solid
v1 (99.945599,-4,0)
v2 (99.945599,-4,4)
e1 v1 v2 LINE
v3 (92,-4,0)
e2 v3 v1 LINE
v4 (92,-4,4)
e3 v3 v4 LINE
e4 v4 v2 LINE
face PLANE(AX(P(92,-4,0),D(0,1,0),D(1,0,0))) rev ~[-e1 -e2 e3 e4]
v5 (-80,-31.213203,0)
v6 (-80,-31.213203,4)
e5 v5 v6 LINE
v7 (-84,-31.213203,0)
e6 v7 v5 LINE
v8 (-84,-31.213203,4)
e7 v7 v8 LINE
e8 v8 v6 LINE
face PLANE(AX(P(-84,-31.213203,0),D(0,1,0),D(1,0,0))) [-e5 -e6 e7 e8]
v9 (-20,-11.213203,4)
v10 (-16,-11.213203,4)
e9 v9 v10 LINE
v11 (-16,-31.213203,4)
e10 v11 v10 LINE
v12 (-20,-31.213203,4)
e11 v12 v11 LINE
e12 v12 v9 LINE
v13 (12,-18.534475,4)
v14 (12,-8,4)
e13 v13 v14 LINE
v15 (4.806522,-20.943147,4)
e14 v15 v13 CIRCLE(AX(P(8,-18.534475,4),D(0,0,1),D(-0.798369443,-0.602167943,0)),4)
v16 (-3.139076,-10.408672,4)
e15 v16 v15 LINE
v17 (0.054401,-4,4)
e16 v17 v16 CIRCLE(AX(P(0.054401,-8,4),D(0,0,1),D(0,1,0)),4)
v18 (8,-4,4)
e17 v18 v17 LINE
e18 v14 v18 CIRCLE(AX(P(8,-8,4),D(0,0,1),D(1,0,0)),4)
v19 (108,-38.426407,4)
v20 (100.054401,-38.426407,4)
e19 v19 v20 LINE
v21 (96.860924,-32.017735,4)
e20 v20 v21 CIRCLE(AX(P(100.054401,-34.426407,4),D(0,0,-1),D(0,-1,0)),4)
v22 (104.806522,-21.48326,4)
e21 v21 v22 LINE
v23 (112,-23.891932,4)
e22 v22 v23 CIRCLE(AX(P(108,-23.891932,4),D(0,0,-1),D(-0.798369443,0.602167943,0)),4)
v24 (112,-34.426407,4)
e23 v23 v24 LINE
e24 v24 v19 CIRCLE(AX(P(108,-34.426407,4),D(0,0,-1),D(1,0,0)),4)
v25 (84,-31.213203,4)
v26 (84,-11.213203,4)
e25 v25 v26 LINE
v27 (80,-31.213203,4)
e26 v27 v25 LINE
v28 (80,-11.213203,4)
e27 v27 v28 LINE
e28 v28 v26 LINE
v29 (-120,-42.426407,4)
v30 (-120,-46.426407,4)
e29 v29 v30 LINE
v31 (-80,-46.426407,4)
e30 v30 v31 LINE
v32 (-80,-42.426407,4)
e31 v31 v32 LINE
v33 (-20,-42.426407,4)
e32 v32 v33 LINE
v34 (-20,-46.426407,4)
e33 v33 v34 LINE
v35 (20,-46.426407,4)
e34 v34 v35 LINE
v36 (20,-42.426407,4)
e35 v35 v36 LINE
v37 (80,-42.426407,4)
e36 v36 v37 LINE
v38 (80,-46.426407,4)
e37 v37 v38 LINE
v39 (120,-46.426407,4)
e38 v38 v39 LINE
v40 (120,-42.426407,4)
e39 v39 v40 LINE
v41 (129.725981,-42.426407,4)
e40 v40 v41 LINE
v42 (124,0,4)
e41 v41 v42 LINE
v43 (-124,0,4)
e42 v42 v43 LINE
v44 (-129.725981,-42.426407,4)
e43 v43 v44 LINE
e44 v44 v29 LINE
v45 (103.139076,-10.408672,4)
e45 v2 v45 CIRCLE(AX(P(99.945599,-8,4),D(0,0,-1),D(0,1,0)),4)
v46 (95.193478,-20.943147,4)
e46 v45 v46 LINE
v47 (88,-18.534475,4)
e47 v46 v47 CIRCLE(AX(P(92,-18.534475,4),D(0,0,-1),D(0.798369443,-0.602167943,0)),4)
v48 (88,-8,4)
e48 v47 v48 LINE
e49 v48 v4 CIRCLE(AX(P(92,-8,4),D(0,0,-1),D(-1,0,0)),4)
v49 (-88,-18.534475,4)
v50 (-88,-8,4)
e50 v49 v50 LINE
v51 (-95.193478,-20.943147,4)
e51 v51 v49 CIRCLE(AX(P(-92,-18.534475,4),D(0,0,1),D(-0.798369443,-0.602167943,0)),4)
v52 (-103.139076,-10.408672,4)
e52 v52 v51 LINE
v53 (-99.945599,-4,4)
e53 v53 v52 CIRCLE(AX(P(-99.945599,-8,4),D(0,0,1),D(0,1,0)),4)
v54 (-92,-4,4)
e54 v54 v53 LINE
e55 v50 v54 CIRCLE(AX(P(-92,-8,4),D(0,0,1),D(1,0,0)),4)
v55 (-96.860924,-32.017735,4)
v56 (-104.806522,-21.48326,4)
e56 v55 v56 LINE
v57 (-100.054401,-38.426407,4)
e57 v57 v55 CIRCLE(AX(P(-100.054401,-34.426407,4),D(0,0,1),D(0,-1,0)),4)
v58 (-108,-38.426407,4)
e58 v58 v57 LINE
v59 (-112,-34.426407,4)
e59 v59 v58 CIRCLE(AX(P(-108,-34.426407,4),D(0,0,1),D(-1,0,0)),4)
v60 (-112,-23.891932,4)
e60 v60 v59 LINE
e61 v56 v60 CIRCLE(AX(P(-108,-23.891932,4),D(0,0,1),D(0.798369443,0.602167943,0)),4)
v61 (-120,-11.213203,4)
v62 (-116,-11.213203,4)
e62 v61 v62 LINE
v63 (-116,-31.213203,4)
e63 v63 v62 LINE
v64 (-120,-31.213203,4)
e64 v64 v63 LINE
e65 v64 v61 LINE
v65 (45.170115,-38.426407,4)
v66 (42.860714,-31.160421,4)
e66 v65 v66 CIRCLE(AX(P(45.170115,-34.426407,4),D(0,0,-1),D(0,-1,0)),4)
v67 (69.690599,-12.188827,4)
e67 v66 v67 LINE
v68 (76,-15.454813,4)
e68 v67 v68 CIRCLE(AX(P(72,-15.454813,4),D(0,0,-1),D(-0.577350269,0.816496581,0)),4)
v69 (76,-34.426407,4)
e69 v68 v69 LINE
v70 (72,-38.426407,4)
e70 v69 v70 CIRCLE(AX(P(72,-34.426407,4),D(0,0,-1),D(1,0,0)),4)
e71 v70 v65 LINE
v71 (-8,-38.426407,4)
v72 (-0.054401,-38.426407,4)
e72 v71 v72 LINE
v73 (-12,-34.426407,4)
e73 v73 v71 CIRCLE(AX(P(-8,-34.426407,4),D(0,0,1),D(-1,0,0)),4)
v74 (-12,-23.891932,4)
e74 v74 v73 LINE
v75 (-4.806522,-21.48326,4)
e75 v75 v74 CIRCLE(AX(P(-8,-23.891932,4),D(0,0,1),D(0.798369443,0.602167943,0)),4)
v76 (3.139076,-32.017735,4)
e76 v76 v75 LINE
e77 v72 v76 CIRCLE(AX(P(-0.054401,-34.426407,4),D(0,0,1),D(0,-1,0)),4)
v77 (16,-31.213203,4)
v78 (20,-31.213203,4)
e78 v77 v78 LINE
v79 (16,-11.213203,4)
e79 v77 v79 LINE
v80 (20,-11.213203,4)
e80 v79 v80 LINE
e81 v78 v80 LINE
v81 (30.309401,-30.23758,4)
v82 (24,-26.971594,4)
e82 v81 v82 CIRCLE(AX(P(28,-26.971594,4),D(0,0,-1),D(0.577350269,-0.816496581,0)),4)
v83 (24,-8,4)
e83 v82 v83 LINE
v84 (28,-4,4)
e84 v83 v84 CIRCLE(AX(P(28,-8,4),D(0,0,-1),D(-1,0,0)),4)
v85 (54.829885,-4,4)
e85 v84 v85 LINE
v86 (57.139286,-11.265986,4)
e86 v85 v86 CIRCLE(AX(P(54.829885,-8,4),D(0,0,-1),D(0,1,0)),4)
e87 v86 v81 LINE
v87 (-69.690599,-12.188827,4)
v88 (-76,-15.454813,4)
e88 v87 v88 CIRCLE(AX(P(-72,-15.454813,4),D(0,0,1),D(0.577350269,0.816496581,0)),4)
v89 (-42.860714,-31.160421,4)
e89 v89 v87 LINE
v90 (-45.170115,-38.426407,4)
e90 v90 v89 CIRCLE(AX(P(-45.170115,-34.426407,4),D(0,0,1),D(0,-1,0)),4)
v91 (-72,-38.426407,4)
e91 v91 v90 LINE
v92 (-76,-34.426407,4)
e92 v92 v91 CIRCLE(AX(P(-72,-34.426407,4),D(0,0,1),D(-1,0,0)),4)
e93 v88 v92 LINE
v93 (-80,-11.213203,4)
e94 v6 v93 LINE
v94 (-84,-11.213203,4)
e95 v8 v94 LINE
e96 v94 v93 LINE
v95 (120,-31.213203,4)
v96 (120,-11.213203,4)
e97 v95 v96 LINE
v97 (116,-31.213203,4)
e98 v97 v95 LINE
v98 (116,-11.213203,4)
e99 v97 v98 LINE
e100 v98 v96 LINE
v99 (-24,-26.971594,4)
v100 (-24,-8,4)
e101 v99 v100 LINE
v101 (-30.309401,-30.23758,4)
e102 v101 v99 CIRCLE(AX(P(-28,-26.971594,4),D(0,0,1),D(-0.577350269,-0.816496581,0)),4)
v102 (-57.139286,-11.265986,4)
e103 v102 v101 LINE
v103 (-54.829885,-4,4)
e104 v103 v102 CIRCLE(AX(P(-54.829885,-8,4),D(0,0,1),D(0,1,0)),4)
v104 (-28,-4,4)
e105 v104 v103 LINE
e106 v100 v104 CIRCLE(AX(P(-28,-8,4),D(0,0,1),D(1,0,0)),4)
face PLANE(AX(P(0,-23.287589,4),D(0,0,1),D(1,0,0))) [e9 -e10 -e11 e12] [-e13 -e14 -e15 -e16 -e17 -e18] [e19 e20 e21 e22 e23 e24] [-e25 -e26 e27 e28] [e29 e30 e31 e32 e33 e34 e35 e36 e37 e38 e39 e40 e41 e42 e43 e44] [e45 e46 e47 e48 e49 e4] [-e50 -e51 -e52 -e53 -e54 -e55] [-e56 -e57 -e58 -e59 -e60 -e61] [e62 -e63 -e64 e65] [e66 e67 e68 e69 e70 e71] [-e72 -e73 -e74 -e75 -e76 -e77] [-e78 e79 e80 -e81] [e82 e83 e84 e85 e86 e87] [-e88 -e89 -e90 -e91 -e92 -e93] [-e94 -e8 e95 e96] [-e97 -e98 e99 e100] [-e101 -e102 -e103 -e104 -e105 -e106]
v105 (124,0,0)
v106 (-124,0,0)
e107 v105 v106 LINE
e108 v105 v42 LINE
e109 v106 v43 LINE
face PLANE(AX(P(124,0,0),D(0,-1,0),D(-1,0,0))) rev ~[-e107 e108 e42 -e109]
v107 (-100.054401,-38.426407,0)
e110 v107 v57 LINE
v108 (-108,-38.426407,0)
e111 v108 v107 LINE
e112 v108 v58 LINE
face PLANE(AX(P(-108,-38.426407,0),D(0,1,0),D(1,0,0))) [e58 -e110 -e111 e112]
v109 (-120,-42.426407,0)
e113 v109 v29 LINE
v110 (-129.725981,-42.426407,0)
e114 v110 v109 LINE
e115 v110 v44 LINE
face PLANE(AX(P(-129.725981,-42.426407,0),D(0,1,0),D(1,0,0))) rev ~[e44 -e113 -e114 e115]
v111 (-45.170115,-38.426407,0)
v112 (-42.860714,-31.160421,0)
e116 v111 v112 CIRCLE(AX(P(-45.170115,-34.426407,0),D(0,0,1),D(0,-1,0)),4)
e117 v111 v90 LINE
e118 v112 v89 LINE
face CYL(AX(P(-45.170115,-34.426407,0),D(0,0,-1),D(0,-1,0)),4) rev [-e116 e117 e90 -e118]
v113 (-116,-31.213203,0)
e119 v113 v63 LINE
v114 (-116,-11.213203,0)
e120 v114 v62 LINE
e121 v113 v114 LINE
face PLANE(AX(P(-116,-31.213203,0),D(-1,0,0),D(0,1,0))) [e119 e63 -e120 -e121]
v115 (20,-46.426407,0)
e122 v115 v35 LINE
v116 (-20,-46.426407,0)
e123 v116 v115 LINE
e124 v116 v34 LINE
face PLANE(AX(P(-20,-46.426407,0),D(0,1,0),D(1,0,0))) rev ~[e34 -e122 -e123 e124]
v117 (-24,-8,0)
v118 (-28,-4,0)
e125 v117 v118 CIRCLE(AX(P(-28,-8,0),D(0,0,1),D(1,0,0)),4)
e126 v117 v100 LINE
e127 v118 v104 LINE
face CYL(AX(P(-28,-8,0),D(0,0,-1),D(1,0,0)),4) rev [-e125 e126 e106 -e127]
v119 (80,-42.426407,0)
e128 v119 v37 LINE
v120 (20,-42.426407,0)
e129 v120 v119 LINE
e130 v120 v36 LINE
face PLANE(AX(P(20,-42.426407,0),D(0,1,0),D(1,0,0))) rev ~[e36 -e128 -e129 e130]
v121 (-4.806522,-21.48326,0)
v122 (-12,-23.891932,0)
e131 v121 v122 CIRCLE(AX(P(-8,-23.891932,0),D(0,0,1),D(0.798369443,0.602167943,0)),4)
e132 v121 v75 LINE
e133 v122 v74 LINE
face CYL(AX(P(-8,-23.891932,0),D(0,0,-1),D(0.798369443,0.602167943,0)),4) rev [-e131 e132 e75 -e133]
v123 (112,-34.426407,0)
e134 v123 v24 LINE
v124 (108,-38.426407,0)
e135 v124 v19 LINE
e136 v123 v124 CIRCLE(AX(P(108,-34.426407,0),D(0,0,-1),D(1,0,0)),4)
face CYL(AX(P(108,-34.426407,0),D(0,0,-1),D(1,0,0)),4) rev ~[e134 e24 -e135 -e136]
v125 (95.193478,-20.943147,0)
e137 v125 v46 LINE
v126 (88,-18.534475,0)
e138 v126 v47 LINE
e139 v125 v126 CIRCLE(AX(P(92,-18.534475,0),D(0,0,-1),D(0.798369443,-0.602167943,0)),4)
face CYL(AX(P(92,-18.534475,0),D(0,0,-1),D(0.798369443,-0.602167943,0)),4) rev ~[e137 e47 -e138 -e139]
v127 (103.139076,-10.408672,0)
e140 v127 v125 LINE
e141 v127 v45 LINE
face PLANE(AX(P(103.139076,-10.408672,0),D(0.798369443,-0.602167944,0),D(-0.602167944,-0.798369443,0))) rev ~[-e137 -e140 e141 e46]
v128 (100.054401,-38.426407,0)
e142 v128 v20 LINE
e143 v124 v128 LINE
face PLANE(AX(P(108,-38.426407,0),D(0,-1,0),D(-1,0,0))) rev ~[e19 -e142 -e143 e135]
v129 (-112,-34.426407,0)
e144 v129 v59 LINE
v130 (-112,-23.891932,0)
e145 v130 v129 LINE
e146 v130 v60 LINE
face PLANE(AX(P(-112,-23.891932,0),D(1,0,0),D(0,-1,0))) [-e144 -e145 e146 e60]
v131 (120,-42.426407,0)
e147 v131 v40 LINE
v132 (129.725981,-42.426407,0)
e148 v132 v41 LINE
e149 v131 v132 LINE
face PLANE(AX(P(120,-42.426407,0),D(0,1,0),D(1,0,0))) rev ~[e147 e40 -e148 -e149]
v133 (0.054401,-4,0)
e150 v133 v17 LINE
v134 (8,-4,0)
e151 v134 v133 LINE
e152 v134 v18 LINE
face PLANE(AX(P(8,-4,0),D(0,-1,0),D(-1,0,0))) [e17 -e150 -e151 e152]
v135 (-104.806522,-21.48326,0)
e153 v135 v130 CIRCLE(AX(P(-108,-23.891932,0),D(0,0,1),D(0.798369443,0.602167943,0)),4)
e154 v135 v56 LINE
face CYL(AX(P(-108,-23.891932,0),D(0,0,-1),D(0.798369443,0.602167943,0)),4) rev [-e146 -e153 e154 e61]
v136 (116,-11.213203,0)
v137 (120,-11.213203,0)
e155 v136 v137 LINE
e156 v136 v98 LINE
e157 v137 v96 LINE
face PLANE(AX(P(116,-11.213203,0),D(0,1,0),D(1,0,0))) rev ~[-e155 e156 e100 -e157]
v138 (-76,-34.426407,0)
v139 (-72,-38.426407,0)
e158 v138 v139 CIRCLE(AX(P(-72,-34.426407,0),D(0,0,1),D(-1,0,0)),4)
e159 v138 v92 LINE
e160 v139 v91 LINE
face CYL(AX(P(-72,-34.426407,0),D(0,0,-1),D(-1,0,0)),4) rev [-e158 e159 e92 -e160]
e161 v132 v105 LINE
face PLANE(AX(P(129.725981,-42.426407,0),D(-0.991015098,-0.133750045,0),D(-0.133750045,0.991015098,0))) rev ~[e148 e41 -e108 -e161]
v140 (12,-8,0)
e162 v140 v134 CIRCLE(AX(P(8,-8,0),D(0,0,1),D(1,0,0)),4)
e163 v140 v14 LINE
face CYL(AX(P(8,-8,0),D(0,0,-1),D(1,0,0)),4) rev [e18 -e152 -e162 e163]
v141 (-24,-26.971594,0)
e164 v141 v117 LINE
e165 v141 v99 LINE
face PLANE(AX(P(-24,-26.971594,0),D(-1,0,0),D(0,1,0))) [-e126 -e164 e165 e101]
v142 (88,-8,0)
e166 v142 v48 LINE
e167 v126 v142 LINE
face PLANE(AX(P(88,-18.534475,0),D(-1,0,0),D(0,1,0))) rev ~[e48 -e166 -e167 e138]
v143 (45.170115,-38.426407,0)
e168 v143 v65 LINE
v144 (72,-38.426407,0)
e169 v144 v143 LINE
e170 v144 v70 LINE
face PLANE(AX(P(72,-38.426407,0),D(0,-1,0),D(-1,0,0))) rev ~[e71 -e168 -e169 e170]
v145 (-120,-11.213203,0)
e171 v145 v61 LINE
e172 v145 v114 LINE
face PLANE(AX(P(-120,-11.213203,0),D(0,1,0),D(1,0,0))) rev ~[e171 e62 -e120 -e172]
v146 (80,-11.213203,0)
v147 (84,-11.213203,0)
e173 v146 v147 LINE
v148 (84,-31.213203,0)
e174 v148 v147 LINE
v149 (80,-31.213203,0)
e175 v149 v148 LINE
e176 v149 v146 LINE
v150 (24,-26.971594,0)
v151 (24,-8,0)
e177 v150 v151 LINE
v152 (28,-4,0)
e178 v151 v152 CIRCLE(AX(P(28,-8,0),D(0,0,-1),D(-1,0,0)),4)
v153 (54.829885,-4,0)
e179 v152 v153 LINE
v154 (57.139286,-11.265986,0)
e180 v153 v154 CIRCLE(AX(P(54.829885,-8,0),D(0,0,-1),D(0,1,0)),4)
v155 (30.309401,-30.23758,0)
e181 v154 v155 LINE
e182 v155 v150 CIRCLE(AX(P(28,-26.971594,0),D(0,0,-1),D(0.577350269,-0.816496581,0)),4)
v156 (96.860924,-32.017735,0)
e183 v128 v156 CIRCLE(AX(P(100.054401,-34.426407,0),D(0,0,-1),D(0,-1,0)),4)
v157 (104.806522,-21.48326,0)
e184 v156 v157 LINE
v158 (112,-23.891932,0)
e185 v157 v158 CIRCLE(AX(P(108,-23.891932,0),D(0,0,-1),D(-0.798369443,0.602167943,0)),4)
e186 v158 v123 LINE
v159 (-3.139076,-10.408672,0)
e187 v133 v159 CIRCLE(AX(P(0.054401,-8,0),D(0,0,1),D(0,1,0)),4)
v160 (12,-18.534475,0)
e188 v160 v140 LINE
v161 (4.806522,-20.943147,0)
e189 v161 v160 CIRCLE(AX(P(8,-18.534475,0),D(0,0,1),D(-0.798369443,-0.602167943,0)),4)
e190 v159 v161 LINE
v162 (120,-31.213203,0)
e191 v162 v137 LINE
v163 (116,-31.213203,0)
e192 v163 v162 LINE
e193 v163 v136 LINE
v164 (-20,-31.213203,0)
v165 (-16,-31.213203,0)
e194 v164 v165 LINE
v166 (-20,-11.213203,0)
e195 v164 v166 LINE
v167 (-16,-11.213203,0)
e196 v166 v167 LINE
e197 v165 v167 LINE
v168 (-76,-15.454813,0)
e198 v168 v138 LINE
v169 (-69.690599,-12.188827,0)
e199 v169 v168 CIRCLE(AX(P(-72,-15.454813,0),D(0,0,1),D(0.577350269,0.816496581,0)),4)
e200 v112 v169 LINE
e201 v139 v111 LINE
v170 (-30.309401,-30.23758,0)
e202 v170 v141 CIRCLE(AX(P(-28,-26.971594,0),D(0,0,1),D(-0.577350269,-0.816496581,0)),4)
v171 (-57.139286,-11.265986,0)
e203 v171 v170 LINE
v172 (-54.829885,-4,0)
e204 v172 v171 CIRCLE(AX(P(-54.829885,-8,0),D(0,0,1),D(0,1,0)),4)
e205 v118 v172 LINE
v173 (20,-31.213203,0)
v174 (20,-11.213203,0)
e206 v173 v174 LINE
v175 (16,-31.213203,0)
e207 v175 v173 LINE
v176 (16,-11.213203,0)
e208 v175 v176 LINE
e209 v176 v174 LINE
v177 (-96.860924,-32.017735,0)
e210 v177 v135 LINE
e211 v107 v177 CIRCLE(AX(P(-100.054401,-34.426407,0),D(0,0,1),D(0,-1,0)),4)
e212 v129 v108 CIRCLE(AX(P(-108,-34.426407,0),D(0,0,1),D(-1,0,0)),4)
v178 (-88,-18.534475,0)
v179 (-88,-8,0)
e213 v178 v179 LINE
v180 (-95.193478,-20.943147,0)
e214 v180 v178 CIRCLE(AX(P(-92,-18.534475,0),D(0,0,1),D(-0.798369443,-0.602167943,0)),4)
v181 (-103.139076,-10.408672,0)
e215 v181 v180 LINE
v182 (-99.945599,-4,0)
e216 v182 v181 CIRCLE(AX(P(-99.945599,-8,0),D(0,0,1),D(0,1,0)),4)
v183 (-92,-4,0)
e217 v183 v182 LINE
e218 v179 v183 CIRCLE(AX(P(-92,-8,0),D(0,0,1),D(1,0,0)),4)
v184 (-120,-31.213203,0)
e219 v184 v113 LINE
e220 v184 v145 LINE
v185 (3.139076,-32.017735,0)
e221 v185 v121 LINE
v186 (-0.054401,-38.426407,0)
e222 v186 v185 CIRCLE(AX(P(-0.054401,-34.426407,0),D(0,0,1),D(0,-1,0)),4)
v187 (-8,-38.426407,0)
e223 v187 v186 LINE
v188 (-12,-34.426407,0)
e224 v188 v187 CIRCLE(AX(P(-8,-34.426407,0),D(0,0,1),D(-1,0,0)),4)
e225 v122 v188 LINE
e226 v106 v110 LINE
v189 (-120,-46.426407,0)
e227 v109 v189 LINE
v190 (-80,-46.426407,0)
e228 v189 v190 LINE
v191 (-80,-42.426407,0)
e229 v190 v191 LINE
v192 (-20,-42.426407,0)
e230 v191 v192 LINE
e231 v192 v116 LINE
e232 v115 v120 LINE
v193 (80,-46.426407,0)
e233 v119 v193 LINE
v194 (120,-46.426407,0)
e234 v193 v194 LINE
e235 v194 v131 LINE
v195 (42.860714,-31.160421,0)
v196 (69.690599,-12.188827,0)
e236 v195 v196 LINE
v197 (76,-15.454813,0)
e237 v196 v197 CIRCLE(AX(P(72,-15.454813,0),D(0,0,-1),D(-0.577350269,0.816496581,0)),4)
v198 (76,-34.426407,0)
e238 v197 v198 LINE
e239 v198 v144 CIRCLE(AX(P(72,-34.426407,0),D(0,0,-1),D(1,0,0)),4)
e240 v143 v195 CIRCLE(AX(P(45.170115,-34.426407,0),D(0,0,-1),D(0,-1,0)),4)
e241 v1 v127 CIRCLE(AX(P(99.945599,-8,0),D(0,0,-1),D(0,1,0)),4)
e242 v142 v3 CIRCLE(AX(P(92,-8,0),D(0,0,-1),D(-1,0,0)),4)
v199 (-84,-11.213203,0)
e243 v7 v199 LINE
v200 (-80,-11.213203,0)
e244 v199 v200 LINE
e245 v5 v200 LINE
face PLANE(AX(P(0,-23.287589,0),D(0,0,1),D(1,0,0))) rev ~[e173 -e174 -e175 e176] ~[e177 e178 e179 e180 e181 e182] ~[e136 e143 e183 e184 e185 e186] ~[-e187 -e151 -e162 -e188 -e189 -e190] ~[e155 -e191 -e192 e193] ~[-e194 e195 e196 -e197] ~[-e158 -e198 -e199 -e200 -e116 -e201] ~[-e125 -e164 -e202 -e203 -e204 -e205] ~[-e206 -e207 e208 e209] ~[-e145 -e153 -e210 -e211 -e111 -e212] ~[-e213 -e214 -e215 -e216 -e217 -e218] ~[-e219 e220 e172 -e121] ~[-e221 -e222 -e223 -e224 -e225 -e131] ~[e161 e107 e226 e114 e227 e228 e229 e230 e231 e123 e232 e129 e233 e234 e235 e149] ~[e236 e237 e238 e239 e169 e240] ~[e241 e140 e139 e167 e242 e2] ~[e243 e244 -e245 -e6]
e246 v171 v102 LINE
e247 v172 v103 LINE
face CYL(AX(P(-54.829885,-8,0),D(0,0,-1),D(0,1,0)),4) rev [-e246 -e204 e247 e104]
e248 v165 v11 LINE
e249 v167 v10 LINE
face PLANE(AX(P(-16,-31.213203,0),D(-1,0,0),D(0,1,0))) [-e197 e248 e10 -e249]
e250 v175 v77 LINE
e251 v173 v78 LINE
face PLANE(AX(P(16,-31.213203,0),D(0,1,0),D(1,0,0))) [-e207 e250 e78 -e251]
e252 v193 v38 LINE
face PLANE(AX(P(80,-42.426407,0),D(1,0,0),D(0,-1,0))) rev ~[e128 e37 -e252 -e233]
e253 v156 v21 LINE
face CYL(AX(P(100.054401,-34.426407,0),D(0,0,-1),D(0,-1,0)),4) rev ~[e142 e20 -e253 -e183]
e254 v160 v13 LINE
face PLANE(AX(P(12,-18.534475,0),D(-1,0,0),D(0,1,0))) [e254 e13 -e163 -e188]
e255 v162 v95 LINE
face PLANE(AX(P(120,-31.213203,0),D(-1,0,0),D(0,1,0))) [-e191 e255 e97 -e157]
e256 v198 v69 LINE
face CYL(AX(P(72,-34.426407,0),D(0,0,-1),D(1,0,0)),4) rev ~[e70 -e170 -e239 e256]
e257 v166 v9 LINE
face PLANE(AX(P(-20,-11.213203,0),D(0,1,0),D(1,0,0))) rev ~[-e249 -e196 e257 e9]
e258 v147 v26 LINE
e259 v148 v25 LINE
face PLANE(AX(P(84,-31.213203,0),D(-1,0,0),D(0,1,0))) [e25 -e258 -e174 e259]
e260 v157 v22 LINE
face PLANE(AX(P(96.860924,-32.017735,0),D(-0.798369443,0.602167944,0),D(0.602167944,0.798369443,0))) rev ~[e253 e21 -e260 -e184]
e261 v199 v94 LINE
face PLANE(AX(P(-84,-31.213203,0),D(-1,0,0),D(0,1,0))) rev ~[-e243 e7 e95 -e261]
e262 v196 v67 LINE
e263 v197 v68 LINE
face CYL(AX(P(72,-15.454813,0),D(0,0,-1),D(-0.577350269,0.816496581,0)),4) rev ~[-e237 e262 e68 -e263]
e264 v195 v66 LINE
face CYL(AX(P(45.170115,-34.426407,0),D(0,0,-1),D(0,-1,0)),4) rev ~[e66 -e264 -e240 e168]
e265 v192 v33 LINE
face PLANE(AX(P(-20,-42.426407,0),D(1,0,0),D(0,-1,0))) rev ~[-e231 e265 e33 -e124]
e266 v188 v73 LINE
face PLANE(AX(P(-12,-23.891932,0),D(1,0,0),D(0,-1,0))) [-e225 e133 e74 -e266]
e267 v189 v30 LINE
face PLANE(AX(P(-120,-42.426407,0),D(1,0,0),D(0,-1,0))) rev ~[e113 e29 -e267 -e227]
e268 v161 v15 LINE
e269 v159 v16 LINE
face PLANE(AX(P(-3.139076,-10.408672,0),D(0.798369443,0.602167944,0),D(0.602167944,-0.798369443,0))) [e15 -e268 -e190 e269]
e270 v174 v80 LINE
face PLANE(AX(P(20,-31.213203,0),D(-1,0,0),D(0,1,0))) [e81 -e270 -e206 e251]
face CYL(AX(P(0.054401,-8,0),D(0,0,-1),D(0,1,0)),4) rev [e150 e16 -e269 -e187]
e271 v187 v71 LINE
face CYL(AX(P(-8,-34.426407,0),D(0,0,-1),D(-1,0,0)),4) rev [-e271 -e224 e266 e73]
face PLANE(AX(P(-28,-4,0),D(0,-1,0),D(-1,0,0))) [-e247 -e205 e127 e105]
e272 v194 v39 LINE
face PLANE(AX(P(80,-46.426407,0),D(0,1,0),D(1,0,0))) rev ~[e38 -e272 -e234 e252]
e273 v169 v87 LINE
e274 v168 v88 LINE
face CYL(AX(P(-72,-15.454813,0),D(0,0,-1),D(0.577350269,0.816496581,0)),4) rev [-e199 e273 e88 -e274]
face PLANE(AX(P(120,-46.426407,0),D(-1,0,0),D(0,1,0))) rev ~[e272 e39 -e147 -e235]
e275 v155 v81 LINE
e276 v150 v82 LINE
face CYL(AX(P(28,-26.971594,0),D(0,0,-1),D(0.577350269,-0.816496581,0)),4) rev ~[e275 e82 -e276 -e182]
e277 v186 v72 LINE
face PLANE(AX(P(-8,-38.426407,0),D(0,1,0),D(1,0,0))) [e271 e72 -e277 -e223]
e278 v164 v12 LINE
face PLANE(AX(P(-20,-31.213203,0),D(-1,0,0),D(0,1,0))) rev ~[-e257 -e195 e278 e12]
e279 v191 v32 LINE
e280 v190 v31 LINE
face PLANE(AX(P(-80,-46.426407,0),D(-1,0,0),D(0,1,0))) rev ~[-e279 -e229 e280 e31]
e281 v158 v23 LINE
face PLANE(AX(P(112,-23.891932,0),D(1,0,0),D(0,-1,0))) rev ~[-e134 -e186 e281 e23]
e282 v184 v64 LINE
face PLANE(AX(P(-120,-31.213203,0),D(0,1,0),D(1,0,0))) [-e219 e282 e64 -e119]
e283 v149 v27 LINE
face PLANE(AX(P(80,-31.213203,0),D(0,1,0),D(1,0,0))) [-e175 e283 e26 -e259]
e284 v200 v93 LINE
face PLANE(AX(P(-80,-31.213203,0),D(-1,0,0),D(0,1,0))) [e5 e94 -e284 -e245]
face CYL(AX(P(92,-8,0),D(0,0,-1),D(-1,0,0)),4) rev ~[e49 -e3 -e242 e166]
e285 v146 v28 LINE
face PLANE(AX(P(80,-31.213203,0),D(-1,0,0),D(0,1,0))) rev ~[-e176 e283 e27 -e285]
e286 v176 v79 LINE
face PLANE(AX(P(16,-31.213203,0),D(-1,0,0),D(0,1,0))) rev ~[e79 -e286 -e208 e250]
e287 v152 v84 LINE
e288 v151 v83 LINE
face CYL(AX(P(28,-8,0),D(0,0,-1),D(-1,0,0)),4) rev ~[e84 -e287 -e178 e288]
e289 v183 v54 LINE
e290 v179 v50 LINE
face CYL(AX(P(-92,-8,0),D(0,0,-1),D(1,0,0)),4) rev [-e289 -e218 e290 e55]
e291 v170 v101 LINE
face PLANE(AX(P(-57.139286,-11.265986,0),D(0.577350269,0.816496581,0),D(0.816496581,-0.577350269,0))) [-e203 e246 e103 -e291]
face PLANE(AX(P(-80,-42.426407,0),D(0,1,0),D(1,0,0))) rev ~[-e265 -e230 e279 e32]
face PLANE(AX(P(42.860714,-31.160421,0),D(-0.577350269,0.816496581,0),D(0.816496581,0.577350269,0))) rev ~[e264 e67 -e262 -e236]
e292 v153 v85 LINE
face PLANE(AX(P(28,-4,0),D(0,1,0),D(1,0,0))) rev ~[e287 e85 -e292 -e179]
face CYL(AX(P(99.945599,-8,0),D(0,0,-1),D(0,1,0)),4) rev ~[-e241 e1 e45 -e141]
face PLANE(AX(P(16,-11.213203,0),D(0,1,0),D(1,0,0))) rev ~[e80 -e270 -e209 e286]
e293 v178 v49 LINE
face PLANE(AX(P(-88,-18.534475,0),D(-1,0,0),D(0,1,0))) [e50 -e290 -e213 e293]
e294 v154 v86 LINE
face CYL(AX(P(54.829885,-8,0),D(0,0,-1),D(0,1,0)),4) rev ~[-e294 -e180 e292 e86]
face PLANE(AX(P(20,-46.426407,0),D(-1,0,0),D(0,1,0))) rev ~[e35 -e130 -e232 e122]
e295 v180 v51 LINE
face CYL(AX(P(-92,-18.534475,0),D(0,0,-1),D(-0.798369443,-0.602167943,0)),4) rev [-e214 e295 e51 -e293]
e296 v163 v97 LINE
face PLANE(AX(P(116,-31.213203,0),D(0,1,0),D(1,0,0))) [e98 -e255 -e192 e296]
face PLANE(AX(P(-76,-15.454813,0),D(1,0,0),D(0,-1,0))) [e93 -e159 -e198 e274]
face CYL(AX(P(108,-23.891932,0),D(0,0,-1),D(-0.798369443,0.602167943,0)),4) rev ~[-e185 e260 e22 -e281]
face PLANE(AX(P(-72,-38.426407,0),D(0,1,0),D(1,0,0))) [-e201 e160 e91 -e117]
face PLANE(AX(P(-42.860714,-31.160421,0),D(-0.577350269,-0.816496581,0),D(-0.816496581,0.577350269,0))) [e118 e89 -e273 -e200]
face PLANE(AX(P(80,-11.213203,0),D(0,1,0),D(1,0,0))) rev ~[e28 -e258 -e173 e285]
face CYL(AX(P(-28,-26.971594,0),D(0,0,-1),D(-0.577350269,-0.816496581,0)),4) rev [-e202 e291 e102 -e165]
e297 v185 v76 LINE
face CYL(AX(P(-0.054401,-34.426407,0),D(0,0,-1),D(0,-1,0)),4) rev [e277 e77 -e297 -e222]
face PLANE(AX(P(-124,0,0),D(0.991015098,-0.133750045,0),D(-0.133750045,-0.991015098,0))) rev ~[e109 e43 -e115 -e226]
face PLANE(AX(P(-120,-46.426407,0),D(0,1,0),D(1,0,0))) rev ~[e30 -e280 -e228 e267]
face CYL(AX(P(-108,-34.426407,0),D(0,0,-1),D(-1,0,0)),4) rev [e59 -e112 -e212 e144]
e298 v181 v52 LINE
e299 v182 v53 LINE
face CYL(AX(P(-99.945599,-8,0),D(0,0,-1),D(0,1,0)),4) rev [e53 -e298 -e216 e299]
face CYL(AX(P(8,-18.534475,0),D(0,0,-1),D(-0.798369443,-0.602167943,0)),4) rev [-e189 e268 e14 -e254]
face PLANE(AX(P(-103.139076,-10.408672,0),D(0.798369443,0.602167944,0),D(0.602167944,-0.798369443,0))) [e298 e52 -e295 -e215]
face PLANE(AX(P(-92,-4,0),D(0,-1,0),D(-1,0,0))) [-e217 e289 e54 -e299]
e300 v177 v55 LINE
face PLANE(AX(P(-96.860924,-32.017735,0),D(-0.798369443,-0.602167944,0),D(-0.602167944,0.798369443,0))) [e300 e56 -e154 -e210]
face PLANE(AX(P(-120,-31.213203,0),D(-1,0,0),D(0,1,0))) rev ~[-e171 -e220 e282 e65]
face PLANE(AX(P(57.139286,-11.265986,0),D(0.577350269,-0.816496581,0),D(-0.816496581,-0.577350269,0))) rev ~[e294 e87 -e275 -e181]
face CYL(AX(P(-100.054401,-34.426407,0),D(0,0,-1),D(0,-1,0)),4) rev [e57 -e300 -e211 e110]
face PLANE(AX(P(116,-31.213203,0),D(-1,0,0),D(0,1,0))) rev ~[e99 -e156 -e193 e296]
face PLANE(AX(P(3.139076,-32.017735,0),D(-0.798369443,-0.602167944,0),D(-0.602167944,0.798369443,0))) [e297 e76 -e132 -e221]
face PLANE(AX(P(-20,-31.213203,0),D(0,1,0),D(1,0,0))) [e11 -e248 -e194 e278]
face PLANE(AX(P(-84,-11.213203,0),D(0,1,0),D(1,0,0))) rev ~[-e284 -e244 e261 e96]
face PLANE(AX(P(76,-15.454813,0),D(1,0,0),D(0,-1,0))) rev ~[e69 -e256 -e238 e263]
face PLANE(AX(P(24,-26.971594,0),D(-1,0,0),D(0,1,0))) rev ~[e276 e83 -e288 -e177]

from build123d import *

# Parameters (mm, degrees)
SKETCH2_W           = 4
SKETCH2_H           = 20
BOSS_EXTRUDE1_DEPTH = 4


with BuildPart() as part:
    # Sketch2 → Boss-Extrude1 (new body)
    with BuildSketch(Plane.XY):
        Polygon((124, 0), (-124, 0), (-129.725981227, -42.426406871), (-120, -42.426406871), (-120, -46.426406871), (-80, -46.426406871), (-80, -42.426406871), (-20, -42.426406871), (-20, -46.426406871), (20, -46.426406871), (20, -42.426406871), (80, -42.426406871), (80, -46.426406871), (120, -46.426406871), (120, -42.426406871), (129.725981227, -42.426406871), align=None)
        with BuildLine():
            Line((-88, -18.534474898), (-88, -8))
            ThreePointArc((-88, -8), (-89.171572875, -5.171572875), (-92, -4))
            Line((-92, -4), (-99.945598546, -4))
            ThreePointArc((-99.945598546, -4), (-103.525730324, -6.215999874), (-103.139076318, -10.408671774))
            Line((-103.139076318, -10.408671774), (-95.193477772, -20.943146672))
            ThreePointArc((-95.193477772, -20.943146672), (-90.729943129, -22.327488943), (-88, -18.534474898))
        make_face(mode=Mode.SUBTRACT)
        with BuildLine():
            Line((-108, -38.426406871), (-100.054401454, -38.426406871))
            ThreePointArc((-100.054401454, -38.426406871), (-96.474269676, -36.210406998), (-96.860923682, -32.017735097))
            Line((-96.860923682, -32.017735097), (-104.806522228, -21.483260199))
            ThreePointArc((-104.806522228, -21.483260199), (-109.270056871, -20.098917928), (-112, -23.891931973))
            Line((-112, -23.891931973), (-112, -34.426406871))
            ThreePointArc((-112, -34.426406871), (-110.828427125, -37.254833996), (-108, -38.426406871))
        make_face(mode=Mode.SUBTRACT)
        with BuildLine():
            Line((-57.139286117, -11.265986324), (-30.309401077, -30.237579974))
            ThreePointArc((-30.309401077, -30.237579974), (-26.161196626, -30.523888986), (-24, -26.971593651))
            Line((-24, -26.971593651), (-24, -8))
            ThreePointArc((-24, -8), (-25.171572875, -5.171572875), (-28, -4))
            Line((-28, -4), (-54.82988504, -4))
            ThreePointArc((-54.82988504, -4), (-58.641967496, -6.788378214), (-57.139286117, -11.265986324))
        make_face(mode=Mode.SUBTRACT)
        with BuildLine():
            Line((-42.860713883, -31.160420547), (-69.690598923, -12.188826897))
            ThreePointArc((-69.690598923, -12.188826897), (-73.838803374, -11.902517885), (-76, -15.454813221))
            Line((-76, -15.454813221), (-76, -34.426406871))
            ThreePointArc((-76, -34.426406871), (-74.828427125, -37.254833996), (-72, -38.426406871))
            Line((-72, -38.426406871), (-45.17011496, -38.426406871))
            ThreePointArc((-45.17011496, -38.426406871), (-41.358032504, -35.638028657), (-42.860713883, -31.160420547))
        make_face(mode=Mode.SUBTRACT)
        with BuildLine():
            Line((3.139076318, -32.017735097), (-4.806522228, -21.483260199))
            ThreePointArc((-4.806522228, -21.483260199), (-9.270056871, -20.098917928), (-12, -23.891931973))
            Line((-12, -23.891931973), (-12, -34.426406871))
            ThreePointArc((-12, -34.426406871), (-10.828427125, -37.254833996), (-8, -38.426406871))
            Line((-8, -38.426406871), (-0.054401454, -38.426406871))
            ThreePointArc((-0.054401454, -38.426406871), (3.525730324, -36.210406998), (3.139076318, -32.017735097))
        make_face(mode=Mode.SUBTRACT)
        with BuildLine():
            Line((12, -18.534474898), (12, -8))
            ThreePointArc((12, -8), (10.828427125, -5.171572875), (8, -4))
            Line((8, -4), (0.054401454, -4))
            ThreePointArc((0.054401454, -4), (-3.525730324, -6.215999874), (-3.139076318, -10.408671774))
            Line((-3.139076318, -10.408671774), (4.806522228, -20.943146672))
            ThreePointArc((4.806522228, -20.943146672), (9.270056871, -22.327488943), (12, -18.534474898))
        make_face(mode=Mode.SUBTRACT)
        with BuildLine():
            Line((112, -23.891931973), (112, -34.426406871))
            ThreePointArc((112, -34.426406871), (110.828427125, -37.254833996), (108, -38.426406871))
            Line((108, -38.426406871), (100.054401454, -38.426406871))
            ThreePointArc((100.054401454, -38.426406871), (96.474269676, -36.210406998), (96.860923682, -32.017735097))
            Line((96.860923682, -32.017735097), (104.806522228, -21.483260199))
            ThreePointArc((104.806522228, -21.483260199), (109.270056871, -20.098917928), (112, -23.891931973))
        make_face(mode=Mode.SUBTRACT)
        with BuildLine():
            Line((103.139076318, -10.408671774), (95.193477772, -20.943146672))
            ThreePointArc((95.193477772, -20.943146672), (90.729943129, -22.327488943), (88, -18.534474898))
            Line((88, -18.534474898), (88, -8))
            ThreePointArc((88, -8), (89.171572875, -5.171572875), (92, -4))
            Line((92, -4), (99.945598546, -4))
            ThreePointArc((99.945598546, -4), (103.525730324, -6.215999874), (103.139076318, -10.408671774))
        make_face(mode=Mode.SUBTRACT)
        with BuildLine():
            Line((28, -4), (54.82988504, -4))
            ThreePointArc((54.82988504, -4), (58.641967496, -6.788378214), (57.139286117, -11.265986324))
            Line((57.139286117, -11.265986324), (30.309401077, -30.237579974))
            ThreePointArc((30.309401077, -30.237579974), (26.161196626, -30.523888986), (24, -26.971593651))
            Line((24, -26.971593651), (24, -8))
            ThreePointArc((24, -8), (25.171572875, -5.171572875), (28, -4))
        make_face(mode=Mode.SUBTRACT)
        with BuildLine():
            Line((72, -38.426406871), (45.17011496, -38.426406871))
            ThreePointArc((45.17011496, -38.426406871), (41.358032504, -35.638028657), (42.860713883, -31.160420547))
            Line((42.860713883, -31.160420547), (69.690598923, -12.188826897))
            ThreePointArc((69.690598923, -12.188826897), (73.838803374, -11.902517885), (76, -15.454813221))
            Line((76, -15.454813221), (76, -34.426406871))
            ThreePointArc((76, -34.426406871), (74.828427125, -37.254833996), (72, -38.426406871))
        make_face(mode=Mode.SUBTRACT)
        with Locations((-118, -21.213203436)):
            Rectangle(SKETCH2_W, SKETCH2_H, mode=Mode.SUBTRACT)
        with Locations((-18, -21.213203436)):
            Rectangle(SKETCH2_W, SKETCH2_H, mode=Mode.SUBTRACT)
        with Locations((-82, -21.213203436)):
            Rectangle(SKETCH2_W, SKETCH2_H, mode=Mode.SUBTRACT)
        with Locations((18, -21.213203436)):
            Rectangle(SKETCH2_W, SKETCH2_H, mode=Mode.SUBTRACT)
        with Locations((82, -21.213203436)):
            Rectangle(SKETCH2_W, SKETCH2_H, mode=Mode.SUBTRACT)
        with Locations((118, -21.213203436)):
            Rectangle(SKETCH2_W, SKETCH2_H, mode=Mode.SUBTRACT)
    extrude(amount=BOSS_EXTRUDE1_DEPTH)


solid = part.part
